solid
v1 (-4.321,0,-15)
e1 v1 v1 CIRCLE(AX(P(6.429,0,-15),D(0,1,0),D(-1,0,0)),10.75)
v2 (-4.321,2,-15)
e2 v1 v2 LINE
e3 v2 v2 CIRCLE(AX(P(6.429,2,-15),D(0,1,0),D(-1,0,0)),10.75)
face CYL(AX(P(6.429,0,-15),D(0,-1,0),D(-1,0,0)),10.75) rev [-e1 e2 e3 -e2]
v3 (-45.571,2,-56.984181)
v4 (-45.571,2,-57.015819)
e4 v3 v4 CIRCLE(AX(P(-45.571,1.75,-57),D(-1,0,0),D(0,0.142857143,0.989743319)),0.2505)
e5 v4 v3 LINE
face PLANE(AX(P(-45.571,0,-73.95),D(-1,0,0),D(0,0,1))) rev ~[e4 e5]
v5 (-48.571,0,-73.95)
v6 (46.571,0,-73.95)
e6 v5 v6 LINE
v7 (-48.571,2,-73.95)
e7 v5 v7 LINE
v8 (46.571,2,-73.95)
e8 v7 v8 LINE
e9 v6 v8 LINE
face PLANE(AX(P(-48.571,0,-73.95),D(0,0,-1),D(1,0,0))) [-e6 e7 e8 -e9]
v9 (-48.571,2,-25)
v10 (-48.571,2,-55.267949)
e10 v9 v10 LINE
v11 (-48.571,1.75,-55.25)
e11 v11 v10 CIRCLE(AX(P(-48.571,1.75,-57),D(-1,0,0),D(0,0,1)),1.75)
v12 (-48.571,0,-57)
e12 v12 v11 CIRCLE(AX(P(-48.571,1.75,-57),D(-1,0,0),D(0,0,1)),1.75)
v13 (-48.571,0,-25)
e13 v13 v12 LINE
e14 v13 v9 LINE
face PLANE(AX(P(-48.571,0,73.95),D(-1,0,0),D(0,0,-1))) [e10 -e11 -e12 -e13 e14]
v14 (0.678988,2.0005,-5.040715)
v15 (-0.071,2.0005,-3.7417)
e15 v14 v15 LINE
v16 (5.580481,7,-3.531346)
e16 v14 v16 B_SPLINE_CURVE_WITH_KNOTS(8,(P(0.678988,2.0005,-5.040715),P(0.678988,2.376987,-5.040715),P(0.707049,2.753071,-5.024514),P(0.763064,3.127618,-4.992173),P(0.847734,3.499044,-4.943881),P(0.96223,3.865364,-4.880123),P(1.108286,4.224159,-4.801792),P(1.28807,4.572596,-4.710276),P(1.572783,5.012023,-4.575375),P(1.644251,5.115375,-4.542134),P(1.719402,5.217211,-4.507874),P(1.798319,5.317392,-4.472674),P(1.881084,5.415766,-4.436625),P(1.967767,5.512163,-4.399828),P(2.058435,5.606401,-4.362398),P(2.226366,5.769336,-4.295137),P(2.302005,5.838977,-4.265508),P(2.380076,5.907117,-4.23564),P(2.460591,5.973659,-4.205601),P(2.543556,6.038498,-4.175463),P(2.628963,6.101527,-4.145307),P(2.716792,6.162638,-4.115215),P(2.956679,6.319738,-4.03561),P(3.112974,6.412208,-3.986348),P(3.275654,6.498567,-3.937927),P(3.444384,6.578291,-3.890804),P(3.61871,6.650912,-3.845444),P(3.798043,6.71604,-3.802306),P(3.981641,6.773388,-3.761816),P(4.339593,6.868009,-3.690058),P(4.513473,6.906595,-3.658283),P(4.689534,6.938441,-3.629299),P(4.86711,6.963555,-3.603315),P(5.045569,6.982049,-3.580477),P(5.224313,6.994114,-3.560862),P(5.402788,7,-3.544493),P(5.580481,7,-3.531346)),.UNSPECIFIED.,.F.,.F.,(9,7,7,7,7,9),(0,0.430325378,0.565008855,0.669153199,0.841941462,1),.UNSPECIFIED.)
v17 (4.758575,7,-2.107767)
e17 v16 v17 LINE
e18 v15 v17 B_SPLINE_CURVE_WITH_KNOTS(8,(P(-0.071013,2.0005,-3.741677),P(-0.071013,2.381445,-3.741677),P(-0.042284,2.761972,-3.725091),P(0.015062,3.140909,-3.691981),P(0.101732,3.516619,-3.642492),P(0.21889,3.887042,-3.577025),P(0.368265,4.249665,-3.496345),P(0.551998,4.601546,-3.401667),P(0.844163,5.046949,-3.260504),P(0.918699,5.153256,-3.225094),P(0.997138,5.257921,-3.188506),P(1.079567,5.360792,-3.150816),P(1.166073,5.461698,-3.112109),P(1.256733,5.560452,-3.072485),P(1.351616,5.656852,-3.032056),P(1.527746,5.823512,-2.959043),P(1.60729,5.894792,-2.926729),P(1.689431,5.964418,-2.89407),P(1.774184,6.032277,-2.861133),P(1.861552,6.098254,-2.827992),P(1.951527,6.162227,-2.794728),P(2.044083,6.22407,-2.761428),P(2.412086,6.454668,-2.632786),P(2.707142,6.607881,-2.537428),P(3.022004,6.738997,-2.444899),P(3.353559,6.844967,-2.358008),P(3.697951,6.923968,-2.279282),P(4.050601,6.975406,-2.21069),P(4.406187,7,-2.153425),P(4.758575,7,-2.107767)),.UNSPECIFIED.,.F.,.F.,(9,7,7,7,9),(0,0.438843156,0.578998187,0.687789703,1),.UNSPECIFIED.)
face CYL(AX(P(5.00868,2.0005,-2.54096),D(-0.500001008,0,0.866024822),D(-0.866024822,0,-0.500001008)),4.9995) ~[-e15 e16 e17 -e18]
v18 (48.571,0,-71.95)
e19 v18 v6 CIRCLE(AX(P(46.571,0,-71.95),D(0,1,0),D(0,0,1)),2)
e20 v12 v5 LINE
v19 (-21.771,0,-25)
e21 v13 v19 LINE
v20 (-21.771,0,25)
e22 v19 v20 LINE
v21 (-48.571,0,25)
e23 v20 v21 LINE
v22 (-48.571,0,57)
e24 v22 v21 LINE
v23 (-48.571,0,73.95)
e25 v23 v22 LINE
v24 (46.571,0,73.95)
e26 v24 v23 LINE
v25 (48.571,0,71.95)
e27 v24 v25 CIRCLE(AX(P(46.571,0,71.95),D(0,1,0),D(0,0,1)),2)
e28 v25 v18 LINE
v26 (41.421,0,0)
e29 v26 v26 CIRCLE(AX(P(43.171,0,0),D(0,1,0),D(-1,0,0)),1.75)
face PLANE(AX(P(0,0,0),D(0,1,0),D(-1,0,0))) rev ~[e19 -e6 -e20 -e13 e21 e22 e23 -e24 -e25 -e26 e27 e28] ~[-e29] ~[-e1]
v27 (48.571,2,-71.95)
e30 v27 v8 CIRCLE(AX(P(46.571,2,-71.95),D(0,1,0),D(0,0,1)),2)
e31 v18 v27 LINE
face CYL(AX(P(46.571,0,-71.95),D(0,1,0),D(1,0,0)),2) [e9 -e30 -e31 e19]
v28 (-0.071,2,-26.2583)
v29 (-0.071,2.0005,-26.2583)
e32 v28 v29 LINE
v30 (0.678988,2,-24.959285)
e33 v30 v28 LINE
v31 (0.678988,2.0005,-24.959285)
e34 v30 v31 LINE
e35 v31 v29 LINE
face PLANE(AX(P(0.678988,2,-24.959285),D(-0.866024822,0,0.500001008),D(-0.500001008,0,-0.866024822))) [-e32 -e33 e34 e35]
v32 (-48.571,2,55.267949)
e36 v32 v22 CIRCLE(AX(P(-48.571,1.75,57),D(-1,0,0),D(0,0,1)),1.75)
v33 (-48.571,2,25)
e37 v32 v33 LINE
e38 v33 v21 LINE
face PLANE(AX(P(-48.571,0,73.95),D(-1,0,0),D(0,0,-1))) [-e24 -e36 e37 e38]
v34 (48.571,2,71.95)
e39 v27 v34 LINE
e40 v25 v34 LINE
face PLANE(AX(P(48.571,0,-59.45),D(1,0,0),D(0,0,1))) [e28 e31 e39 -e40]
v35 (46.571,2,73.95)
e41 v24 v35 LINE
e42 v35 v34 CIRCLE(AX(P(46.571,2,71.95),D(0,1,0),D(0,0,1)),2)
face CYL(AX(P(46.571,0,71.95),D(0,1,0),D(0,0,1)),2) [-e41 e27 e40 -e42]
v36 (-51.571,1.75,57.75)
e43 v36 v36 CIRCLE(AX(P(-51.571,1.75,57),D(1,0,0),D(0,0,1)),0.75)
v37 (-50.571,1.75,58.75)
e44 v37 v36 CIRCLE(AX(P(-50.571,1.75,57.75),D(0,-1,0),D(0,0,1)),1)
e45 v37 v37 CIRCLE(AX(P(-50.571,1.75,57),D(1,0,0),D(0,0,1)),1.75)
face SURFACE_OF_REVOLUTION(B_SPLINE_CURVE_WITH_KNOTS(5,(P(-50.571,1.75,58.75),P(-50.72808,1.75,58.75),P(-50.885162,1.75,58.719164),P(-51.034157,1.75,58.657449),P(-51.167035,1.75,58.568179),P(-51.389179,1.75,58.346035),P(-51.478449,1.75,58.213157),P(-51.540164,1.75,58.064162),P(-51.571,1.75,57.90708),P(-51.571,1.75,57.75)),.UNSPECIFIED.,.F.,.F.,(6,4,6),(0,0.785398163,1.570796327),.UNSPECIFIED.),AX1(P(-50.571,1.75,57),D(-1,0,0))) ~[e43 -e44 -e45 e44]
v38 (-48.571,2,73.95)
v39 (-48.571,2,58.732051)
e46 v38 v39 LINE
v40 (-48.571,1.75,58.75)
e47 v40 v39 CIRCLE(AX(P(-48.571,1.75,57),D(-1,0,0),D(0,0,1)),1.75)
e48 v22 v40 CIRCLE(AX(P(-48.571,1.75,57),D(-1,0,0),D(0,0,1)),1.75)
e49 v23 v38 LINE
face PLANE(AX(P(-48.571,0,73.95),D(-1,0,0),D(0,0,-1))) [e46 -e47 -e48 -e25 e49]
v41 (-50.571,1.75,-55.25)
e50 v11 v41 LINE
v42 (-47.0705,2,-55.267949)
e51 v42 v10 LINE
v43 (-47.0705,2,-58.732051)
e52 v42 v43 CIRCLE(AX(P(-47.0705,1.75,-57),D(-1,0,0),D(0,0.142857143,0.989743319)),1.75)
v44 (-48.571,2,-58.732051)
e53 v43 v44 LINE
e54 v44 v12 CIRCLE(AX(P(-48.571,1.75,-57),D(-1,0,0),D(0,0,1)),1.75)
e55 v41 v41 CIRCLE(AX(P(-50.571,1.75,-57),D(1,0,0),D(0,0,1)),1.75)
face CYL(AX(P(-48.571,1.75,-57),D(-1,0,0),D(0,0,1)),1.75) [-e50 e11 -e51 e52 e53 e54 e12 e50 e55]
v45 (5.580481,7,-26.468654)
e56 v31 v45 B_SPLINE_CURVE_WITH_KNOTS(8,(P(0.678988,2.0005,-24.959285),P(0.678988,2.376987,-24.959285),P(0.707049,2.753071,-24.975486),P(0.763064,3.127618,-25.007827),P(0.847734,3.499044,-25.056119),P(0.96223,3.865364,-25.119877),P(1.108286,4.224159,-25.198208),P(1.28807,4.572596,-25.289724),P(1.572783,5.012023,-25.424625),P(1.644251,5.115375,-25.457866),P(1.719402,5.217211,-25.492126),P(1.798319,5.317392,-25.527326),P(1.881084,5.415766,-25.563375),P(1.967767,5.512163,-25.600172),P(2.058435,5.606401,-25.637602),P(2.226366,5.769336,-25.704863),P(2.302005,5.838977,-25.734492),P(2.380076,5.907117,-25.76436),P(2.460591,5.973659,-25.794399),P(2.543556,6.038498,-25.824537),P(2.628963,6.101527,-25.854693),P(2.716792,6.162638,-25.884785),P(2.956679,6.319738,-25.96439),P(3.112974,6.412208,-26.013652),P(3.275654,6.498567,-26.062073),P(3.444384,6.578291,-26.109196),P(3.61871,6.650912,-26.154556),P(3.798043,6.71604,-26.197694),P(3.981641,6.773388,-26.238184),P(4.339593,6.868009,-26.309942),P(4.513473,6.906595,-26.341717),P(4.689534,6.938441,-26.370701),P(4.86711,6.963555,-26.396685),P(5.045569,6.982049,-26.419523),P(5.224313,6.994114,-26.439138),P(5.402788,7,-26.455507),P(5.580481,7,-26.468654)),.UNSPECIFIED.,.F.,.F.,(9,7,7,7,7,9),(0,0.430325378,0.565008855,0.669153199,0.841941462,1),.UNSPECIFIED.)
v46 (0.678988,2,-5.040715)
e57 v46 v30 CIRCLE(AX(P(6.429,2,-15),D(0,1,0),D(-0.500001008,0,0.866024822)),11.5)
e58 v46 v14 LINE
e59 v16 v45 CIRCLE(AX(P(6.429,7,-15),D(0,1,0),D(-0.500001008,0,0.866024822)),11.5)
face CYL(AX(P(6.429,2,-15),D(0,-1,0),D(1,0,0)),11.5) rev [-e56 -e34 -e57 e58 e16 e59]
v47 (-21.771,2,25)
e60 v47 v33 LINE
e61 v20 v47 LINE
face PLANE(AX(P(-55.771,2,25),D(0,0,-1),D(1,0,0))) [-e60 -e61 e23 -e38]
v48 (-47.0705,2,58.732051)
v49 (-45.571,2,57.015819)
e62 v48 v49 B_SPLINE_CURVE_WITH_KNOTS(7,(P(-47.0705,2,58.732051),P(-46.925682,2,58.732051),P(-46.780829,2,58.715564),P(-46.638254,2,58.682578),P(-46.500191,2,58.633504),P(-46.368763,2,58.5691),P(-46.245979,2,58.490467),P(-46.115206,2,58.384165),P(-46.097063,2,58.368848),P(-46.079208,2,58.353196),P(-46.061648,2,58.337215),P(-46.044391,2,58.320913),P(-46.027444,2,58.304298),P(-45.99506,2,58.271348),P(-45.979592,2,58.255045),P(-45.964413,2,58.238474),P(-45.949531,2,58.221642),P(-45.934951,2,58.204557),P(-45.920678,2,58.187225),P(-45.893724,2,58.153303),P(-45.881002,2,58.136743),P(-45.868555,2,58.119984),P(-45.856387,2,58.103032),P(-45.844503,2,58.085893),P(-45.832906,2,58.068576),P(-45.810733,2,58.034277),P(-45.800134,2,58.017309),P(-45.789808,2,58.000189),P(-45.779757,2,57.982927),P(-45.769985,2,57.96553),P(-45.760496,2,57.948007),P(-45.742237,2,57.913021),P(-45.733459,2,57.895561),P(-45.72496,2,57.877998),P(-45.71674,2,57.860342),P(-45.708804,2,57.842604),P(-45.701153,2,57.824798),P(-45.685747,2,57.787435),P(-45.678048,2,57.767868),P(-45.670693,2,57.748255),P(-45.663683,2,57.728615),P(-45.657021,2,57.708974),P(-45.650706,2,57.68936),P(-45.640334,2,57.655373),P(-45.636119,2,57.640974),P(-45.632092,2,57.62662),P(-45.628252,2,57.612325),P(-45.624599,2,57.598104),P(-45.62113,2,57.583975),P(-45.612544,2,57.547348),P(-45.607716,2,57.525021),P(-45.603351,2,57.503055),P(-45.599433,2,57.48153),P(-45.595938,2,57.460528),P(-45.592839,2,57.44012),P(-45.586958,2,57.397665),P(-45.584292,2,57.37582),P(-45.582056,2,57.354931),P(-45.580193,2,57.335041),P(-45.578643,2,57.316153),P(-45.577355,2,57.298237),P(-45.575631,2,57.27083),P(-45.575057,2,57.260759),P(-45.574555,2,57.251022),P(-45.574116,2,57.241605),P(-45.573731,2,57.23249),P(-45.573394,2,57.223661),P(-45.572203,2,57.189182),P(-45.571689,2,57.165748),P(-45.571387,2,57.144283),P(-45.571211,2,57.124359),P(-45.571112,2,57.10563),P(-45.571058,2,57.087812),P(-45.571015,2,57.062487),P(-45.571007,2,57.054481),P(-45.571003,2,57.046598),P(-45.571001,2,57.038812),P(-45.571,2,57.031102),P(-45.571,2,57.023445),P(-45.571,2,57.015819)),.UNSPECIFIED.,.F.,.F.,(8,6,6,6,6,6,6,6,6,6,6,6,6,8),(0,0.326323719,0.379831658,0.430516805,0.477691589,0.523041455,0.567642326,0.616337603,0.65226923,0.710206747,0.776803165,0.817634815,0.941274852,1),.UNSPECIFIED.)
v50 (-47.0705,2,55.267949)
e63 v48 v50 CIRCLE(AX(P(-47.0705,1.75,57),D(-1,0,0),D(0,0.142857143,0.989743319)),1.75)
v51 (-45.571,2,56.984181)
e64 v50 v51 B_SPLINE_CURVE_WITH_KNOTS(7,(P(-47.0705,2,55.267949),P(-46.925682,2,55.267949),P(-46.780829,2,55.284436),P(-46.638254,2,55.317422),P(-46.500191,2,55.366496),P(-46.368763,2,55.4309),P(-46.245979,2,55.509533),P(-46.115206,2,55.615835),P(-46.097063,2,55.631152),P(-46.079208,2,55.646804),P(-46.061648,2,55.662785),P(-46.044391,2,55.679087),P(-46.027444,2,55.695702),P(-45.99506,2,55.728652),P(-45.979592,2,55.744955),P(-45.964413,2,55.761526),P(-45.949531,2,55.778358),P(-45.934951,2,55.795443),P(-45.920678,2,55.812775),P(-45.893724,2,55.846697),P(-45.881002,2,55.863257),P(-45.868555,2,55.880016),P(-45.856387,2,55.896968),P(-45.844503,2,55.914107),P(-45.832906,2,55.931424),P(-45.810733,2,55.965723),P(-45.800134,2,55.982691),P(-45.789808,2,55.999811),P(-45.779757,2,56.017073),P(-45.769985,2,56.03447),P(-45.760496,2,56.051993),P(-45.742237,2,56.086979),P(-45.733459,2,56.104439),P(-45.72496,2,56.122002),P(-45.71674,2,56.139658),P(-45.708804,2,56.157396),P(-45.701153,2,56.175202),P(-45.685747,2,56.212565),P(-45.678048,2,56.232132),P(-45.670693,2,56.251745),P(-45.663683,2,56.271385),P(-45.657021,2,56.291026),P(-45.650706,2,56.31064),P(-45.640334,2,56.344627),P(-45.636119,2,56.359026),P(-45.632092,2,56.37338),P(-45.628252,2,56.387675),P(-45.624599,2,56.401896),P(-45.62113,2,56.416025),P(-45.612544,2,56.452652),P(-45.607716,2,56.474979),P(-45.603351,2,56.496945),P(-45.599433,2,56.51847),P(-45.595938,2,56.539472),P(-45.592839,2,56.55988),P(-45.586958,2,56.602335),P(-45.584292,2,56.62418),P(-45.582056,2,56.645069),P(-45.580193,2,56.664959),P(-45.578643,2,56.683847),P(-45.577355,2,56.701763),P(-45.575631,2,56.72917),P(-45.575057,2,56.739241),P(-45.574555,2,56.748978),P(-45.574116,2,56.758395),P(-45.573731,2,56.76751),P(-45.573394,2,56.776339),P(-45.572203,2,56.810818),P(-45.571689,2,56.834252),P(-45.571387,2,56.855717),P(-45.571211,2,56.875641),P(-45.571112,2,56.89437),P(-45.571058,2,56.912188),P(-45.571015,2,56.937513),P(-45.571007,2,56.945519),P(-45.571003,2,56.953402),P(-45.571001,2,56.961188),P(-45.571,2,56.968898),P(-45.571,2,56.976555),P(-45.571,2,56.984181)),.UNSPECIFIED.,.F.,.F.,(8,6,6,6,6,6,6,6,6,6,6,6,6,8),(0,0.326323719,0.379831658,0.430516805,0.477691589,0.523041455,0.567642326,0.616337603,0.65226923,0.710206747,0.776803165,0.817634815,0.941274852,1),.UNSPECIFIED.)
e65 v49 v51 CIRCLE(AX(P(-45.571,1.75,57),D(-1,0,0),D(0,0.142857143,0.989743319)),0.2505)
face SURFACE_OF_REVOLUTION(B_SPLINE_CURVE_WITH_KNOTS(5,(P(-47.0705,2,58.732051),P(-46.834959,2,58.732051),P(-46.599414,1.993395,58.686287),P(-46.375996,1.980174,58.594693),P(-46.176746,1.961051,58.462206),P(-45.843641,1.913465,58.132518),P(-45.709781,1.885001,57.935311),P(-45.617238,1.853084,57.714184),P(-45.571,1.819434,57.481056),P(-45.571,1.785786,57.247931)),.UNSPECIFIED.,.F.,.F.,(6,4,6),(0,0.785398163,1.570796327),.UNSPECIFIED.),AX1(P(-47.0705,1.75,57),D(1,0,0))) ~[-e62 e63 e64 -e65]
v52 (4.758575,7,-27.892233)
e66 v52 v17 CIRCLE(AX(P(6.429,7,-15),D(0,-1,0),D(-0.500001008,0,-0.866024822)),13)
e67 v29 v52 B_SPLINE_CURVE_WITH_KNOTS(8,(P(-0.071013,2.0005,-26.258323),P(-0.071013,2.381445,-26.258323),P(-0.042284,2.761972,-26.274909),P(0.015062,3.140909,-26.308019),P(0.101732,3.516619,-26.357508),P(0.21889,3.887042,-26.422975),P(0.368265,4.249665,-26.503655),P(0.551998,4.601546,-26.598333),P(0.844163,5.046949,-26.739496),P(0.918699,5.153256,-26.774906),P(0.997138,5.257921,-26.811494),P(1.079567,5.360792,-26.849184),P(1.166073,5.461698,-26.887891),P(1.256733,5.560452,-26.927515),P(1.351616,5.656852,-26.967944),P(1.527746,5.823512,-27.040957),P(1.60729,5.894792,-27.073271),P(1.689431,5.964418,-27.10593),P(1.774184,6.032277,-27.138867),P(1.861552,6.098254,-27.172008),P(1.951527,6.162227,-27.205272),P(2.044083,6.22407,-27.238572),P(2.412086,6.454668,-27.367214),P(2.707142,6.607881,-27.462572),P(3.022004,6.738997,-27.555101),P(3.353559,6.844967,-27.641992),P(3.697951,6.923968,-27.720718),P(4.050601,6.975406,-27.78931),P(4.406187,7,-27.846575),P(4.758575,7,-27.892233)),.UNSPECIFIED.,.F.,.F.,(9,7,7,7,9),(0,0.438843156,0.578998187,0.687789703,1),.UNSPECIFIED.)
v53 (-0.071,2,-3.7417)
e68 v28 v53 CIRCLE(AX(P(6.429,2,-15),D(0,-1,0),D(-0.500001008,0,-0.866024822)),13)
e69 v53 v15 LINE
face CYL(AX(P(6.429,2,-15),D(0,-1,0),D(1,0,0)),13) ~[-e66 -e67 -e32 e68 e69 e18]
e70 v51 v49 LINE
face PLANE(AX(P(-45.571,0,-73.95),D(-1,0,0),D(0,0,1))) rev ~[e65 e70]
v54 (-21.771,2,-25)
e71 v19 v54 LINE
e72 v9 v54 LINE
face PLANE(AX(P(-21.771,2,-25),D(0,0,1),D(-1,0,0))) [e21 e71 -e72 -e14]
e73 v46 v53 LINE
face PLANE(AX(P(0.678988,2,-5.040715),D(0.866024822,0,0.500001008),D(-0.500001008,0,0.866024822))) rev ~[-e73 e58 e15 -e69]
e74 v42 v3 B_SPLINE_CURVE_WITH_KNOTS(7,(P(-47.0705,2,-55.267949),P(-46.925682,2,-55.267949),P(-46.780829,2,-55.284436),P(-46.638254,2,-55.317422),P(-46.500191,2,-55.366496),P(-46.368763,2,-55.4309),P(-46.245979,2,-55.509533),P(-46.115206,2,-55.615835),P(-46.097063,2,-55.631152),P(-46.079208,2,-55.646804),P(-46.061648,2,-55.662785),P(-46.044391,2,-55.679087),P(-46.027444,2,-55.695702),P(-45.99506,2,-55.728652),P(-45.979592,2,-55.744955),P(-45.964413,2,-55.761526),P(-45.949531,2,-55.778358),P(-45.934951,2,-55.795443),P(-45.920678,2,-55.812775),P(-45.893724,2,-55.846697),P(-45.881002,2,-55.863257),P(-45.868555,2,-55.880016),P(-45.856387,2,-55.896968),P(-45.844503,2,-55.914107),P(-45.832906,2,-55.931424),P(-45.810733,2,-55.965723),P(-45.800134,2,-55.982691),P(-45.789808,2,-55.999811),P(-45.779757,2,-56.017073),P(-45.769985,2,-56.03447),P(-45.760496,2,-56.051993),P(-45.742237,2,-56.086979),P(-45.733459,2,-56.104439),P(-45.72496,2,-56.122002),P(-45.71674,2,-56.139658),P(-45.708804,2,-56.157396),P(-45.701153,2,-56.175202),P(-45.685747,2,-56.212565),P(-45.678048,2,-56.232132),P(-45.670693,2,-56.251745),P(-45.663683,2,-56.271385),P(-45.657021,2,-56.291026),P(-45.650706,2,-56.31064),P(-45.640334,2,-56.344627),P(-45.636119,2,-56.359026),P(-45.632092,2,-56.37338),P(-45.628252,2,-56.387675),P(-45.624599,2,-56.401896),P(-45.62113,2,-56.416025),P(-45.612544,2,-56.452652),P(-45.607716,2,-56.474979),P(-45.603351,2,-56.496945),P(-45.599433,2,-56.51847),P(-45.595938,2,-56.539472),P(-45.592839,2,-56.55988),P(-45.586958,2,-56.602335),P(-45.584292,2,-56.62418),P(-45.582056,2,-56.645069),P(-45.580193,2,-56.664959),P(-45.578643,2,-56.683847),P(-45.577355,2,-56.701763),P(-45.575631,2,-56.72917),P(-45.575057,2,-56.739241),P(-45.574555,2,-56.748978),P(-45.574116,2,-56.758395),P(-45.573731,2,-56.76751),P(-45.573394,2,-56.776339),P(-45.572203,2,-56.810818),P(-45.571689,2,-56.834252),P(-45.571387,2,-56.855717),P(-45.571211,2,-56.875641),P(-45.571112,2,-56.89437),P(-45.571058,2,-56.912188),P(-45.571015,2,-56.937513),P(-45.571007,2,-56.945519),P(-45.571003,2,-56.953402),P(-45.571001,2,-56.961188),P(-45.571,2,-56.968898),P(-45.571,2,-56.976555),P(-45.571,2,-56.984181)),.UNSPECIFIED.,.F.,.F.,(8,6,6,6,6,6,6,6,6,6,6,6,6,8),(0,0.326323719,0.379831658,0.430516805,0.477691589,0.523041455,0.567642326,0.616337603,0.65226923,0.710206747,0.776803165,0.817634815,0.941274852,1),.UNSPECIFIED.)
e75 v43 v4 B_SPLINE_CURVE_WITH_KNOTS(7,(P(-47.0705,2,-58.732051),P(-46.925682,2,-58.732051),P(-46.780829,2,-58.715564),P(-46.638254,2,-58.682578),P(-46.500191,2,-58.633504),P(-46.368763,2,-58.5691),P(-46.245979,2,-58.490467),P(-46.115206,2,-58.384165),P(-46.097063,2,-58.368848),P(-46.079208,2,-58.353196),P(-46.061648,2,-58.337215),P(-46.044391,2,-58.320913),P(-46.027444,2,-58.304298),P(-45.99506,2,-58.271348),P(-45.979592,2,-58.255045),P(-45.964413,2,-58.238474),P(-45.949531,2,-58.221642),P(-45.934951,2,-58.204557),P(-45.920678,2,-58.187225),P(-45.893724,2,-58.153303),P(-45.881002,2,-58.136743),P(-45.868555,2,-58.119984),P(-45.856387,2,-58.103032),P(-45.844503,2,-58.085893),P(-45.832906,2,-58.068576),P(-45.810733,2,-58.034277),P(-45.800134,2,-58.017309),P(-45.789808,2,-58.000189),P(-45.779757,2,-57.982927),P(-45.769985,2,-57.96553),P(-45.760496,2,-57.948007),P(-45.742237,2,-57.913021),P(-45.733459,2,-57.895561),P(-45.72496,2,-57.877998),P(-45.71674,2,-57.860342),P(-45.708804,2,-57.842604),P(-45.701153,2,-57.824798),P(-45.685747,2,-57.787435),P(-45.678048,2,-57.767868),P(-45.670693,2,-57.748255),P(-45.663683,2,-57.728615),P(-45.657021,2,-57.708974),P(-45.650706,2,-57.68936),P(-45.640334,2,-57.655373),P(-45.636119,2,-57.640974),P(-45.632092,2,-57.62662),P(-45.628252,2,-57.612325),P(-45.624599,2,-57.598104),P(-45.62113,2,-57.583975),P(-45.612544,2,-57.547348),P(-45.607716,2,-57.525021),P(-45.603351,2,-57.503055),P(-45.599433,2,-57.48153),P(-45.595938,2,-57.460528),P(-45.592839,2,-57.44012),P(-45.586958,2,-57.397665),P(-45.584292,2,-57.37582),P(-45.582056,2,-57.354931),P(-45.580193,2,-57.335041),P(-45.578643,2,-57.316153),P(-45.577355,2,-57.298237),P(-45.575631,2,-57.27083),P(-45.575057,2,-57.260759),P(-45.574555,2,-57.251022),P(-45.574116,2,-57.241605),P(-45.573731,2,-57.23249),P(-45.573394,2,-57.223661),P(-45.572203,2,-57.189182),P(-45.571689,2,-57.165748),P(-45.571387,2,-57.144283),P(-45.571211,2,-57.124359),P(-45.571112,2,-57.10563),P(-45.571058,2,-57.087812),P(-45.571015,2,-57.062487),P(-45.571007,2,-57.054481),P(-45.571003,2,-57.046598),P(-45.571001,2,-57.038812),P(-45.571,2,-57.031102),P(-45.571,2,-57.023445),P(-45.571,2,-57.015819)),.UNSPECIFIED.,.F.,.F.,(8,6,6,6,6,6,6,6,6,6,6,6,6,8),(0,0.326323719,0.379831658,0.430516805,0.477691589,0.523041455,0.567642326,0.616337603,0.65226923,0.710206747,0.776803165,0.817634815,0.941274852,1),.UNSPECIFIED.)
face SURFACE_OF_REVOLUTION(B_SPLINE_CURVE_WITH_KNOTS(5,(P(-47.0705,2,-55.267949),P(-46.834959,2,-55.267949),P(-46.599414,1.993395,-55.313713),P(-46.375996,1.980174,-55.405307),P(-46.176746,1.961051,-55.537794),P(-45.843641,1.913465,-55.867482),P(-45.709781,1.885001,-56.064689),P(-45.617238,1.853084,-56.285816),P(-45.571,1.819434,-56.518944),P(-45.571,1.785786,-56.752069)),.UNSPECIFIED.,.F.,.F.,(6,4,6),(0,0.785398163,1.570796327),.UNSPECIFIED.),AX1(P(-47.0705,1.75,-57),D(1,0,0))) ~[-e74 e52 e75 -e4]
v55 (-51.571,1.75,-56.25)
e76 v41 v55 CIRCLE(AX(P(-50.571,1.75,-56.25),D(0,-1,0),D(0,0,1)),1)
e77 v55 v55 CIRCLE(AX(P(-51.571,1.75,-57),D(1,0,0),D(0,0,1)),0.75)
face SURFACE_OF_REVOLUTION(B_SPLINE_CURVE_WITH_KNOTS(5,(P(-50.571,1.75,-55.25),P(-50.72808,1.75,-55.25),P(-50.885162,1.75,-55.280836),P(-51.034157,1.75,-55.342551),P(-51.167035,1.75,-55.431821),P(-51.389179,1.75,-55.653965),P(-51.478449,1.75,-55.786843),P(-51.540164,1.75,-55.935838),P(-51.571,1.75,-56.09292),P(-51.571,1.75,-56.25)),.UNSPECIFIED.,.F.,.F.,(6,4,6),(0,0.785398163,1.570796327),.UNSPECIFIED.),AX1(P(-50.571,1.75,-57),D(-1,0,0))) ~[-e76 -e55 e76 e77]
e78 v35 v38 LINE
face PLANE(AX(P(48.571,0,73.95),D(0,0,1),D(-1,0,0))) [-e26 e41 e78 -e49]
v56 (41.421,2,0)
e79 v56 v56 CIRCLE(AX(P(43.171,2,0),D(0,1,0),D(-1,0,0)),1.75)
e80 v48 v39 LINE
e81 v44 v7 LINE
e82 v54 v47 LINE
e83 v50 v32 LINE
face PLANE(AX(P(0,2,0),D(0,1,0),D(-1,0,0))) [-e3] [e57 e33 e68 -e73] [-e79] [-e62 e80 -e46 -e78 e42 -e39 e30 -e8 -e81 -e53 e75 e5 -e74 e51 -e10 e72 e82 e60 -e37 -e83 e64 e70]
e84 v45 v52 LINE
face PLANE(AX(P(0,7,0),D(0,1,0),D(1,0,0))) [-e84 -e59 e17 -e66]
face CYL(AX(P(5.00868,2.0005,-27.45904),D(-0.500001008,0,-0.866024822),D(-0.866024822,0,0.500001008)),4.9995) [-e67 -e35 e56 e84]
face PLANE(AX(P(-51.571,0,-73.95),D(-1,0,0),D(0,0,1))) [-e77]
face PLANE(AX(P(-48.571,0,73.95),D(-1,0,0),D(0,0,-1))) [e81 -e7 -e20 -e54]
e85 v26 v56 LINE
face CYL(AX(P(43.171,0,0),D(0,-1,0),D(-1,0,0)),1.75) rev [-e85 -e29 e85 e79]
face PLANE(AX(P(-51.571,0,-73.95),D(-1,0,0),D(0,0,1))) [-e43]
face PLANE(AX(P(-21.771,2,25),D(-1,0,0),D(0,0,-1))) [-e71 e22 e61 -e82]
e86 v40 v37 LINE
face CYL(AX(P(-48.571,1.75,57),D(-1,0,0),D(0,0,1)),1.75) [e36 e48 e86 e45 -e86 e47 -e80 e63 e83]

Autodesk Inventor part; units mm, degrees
ref_plane "YZ Plane" through (0, 0, 0) normal (1, 0, 0) x (0, 1, 0)
ref_plane "XZ Plane" through (0, 0, 0) normal (0, 1, 0) x (-1, 0, 0)
ref_plane "XY Plane" through (0, 0, 0) normal (0, 0, 1) x (1, 0, 0)
sketch "Sketch1" plane through (0, 0, 0) normal (0, 1, 0) x (-1, 0, 0)
  line L0 (-48.571, 73.95) -> (48.571, 73.95)
  line L1 (48.571, 73.95) -> (48.571, -73.95)
  line L2 (48.571, -73.95) -> (-48.571, -73.95)
  line L3 (-48.571, -73.95) -> (-48.571, 73.95)
  line L4 (-48.571, 73.95) -> (48.571, -73.95) construction
  line L5 (48.571, 73.95) -> (-48.571, -73.95) construction
  circle A0 centre (-43.171, 0) radius 1.75
  line L6 (-48.571, -73.95) -> (-48.571, -59.45)
  circle A1 centre (-6.429, -15) radius 10.75
  line L7 (-67.9994, 0) -> (67.9994, 0) construction
  point P0 (0, 0)
  dimension "d0" = 97.142
  dimension "d1" = 147.9
  dimension "d3" = 3.5
  dimension "d54" = 55
  dimension "d61" = 5.4
  dimension "d62" = 15
  dimension "d63" = 21.5
extrude "Lid Shape" add sketch "Sketch1" along normal blind 2
sketch "Sketch2" plane through (0, 2, 0) normal (0, 1, 0) x (1, 0, 0)
  circle A0 centre (6.429, 15) radius 10.75
  circle A1 centre (6.429, 15) radius 11.5
  circle A2 centre (6.429, 15) radius 13
  line L0 (6.429, 15) -> (-0.071, 3.7417)
  line L1 (6.429, 15) -> (19.429, 15) construction
  line L2 (6.429, 15) -> (-0.071, 26.2583)
  circle A3 centre (6.429, 15) radius 10.75 construction
  point P0 (0.679, 24.9593)
  point P1 (0.679, 5.0407)
  dimension "d64" = 26
  dimension "d65" = 23
  dimension "d66" = 120
  dimension "d67" = 120
extrude "Switch Protector" add sketch "Sketch2" along normal blind 5 contours L2 A2 L0 A1 picked at (18.7089, 13.1166)
fillet "Fillet1" radius 5 2 edges at (0.304, 7, -4.3912) (0.304, 7, -25.6088)
fillet "Fillet2" radius 2 2 edges at (48.571, 1, 73.95) (48.571, 1, -73.95)
sketch "Sketch4" plane through (-48.571, 0, -73.95) normal (-1, 0, 0) x (0, 0, 1)
  line L0 (16.95, 0) -> (16.95, 1.75) construction
  circle A0 centre (16.95, 1.75) radius 1.75
  circle A1 centre (73.95, 1.75) radius 1.75
  circle A2 centre (130.95, 1.75) radius 1.75
  line L1 (0, 2) -> (147.9, 2) projected
  line L2 (0, 0) -> (147.9, 0) projected
  line L3 (147.9, 0) -> (147.9, 2) projected
  line L4 (0, 2) -> (147.9, 2) projected
  line L5 (0, 0) -> (0, 2) projected
  line L6 (73.95, 4.2) -> (73.95, -0.7) construction
  point P0 (73.95, 0)
  dimension "d68" = 3.5
  dimension "d69" = 57
  dimension "d70" = 57
extrude "Peg Connectors" add sketch "Sketch4" along normal blind 3 and the other way blind 3 contours A0 L1 | L1 A0 | L1 A1 | A1 L1 | A2 L1 | A2 L1
fillet "Fillet5" radius 1.5 3 edges at (-45.571, 3.5, 57) (-45.571, 3.5, 0) (-45.571, 3.5, -57)
fillet "Fillet6" radius 1 3 edges at (-51.571, 1.75, 55.25) (-51.571, 1.75, -1.75) (-51.571, 1.75, -58.75)
sketch "Sketch7" plane through (0, 2, 0) normal (0, 1, 0) x (1, 0, 0)
  line L0 (-21.771, -25) -> (-21.771, 25)
  line L1 (-21.771, 25) -> (-55.771, 25)
  line L2 (-55.771, 25) -> (-55.771, -25)
  line L3 (-55.771, -25) -> (-21.771, -25)
  line L4 (-48.571, -1.7321) -> (-48.571, -55.2679) construction
  line L5 (-76.6394, 0) -> (69.4394, 0) construction
  point P0 (0, 0)
  dimension "d60" = 50
  dimension "d71" = 34
  dimension "d72" = 26.8
extrude "Weapon Hole" cut sketch "Sketch7" along normal mid plane 6.7625
properties part number "Base Shell Top V3"
